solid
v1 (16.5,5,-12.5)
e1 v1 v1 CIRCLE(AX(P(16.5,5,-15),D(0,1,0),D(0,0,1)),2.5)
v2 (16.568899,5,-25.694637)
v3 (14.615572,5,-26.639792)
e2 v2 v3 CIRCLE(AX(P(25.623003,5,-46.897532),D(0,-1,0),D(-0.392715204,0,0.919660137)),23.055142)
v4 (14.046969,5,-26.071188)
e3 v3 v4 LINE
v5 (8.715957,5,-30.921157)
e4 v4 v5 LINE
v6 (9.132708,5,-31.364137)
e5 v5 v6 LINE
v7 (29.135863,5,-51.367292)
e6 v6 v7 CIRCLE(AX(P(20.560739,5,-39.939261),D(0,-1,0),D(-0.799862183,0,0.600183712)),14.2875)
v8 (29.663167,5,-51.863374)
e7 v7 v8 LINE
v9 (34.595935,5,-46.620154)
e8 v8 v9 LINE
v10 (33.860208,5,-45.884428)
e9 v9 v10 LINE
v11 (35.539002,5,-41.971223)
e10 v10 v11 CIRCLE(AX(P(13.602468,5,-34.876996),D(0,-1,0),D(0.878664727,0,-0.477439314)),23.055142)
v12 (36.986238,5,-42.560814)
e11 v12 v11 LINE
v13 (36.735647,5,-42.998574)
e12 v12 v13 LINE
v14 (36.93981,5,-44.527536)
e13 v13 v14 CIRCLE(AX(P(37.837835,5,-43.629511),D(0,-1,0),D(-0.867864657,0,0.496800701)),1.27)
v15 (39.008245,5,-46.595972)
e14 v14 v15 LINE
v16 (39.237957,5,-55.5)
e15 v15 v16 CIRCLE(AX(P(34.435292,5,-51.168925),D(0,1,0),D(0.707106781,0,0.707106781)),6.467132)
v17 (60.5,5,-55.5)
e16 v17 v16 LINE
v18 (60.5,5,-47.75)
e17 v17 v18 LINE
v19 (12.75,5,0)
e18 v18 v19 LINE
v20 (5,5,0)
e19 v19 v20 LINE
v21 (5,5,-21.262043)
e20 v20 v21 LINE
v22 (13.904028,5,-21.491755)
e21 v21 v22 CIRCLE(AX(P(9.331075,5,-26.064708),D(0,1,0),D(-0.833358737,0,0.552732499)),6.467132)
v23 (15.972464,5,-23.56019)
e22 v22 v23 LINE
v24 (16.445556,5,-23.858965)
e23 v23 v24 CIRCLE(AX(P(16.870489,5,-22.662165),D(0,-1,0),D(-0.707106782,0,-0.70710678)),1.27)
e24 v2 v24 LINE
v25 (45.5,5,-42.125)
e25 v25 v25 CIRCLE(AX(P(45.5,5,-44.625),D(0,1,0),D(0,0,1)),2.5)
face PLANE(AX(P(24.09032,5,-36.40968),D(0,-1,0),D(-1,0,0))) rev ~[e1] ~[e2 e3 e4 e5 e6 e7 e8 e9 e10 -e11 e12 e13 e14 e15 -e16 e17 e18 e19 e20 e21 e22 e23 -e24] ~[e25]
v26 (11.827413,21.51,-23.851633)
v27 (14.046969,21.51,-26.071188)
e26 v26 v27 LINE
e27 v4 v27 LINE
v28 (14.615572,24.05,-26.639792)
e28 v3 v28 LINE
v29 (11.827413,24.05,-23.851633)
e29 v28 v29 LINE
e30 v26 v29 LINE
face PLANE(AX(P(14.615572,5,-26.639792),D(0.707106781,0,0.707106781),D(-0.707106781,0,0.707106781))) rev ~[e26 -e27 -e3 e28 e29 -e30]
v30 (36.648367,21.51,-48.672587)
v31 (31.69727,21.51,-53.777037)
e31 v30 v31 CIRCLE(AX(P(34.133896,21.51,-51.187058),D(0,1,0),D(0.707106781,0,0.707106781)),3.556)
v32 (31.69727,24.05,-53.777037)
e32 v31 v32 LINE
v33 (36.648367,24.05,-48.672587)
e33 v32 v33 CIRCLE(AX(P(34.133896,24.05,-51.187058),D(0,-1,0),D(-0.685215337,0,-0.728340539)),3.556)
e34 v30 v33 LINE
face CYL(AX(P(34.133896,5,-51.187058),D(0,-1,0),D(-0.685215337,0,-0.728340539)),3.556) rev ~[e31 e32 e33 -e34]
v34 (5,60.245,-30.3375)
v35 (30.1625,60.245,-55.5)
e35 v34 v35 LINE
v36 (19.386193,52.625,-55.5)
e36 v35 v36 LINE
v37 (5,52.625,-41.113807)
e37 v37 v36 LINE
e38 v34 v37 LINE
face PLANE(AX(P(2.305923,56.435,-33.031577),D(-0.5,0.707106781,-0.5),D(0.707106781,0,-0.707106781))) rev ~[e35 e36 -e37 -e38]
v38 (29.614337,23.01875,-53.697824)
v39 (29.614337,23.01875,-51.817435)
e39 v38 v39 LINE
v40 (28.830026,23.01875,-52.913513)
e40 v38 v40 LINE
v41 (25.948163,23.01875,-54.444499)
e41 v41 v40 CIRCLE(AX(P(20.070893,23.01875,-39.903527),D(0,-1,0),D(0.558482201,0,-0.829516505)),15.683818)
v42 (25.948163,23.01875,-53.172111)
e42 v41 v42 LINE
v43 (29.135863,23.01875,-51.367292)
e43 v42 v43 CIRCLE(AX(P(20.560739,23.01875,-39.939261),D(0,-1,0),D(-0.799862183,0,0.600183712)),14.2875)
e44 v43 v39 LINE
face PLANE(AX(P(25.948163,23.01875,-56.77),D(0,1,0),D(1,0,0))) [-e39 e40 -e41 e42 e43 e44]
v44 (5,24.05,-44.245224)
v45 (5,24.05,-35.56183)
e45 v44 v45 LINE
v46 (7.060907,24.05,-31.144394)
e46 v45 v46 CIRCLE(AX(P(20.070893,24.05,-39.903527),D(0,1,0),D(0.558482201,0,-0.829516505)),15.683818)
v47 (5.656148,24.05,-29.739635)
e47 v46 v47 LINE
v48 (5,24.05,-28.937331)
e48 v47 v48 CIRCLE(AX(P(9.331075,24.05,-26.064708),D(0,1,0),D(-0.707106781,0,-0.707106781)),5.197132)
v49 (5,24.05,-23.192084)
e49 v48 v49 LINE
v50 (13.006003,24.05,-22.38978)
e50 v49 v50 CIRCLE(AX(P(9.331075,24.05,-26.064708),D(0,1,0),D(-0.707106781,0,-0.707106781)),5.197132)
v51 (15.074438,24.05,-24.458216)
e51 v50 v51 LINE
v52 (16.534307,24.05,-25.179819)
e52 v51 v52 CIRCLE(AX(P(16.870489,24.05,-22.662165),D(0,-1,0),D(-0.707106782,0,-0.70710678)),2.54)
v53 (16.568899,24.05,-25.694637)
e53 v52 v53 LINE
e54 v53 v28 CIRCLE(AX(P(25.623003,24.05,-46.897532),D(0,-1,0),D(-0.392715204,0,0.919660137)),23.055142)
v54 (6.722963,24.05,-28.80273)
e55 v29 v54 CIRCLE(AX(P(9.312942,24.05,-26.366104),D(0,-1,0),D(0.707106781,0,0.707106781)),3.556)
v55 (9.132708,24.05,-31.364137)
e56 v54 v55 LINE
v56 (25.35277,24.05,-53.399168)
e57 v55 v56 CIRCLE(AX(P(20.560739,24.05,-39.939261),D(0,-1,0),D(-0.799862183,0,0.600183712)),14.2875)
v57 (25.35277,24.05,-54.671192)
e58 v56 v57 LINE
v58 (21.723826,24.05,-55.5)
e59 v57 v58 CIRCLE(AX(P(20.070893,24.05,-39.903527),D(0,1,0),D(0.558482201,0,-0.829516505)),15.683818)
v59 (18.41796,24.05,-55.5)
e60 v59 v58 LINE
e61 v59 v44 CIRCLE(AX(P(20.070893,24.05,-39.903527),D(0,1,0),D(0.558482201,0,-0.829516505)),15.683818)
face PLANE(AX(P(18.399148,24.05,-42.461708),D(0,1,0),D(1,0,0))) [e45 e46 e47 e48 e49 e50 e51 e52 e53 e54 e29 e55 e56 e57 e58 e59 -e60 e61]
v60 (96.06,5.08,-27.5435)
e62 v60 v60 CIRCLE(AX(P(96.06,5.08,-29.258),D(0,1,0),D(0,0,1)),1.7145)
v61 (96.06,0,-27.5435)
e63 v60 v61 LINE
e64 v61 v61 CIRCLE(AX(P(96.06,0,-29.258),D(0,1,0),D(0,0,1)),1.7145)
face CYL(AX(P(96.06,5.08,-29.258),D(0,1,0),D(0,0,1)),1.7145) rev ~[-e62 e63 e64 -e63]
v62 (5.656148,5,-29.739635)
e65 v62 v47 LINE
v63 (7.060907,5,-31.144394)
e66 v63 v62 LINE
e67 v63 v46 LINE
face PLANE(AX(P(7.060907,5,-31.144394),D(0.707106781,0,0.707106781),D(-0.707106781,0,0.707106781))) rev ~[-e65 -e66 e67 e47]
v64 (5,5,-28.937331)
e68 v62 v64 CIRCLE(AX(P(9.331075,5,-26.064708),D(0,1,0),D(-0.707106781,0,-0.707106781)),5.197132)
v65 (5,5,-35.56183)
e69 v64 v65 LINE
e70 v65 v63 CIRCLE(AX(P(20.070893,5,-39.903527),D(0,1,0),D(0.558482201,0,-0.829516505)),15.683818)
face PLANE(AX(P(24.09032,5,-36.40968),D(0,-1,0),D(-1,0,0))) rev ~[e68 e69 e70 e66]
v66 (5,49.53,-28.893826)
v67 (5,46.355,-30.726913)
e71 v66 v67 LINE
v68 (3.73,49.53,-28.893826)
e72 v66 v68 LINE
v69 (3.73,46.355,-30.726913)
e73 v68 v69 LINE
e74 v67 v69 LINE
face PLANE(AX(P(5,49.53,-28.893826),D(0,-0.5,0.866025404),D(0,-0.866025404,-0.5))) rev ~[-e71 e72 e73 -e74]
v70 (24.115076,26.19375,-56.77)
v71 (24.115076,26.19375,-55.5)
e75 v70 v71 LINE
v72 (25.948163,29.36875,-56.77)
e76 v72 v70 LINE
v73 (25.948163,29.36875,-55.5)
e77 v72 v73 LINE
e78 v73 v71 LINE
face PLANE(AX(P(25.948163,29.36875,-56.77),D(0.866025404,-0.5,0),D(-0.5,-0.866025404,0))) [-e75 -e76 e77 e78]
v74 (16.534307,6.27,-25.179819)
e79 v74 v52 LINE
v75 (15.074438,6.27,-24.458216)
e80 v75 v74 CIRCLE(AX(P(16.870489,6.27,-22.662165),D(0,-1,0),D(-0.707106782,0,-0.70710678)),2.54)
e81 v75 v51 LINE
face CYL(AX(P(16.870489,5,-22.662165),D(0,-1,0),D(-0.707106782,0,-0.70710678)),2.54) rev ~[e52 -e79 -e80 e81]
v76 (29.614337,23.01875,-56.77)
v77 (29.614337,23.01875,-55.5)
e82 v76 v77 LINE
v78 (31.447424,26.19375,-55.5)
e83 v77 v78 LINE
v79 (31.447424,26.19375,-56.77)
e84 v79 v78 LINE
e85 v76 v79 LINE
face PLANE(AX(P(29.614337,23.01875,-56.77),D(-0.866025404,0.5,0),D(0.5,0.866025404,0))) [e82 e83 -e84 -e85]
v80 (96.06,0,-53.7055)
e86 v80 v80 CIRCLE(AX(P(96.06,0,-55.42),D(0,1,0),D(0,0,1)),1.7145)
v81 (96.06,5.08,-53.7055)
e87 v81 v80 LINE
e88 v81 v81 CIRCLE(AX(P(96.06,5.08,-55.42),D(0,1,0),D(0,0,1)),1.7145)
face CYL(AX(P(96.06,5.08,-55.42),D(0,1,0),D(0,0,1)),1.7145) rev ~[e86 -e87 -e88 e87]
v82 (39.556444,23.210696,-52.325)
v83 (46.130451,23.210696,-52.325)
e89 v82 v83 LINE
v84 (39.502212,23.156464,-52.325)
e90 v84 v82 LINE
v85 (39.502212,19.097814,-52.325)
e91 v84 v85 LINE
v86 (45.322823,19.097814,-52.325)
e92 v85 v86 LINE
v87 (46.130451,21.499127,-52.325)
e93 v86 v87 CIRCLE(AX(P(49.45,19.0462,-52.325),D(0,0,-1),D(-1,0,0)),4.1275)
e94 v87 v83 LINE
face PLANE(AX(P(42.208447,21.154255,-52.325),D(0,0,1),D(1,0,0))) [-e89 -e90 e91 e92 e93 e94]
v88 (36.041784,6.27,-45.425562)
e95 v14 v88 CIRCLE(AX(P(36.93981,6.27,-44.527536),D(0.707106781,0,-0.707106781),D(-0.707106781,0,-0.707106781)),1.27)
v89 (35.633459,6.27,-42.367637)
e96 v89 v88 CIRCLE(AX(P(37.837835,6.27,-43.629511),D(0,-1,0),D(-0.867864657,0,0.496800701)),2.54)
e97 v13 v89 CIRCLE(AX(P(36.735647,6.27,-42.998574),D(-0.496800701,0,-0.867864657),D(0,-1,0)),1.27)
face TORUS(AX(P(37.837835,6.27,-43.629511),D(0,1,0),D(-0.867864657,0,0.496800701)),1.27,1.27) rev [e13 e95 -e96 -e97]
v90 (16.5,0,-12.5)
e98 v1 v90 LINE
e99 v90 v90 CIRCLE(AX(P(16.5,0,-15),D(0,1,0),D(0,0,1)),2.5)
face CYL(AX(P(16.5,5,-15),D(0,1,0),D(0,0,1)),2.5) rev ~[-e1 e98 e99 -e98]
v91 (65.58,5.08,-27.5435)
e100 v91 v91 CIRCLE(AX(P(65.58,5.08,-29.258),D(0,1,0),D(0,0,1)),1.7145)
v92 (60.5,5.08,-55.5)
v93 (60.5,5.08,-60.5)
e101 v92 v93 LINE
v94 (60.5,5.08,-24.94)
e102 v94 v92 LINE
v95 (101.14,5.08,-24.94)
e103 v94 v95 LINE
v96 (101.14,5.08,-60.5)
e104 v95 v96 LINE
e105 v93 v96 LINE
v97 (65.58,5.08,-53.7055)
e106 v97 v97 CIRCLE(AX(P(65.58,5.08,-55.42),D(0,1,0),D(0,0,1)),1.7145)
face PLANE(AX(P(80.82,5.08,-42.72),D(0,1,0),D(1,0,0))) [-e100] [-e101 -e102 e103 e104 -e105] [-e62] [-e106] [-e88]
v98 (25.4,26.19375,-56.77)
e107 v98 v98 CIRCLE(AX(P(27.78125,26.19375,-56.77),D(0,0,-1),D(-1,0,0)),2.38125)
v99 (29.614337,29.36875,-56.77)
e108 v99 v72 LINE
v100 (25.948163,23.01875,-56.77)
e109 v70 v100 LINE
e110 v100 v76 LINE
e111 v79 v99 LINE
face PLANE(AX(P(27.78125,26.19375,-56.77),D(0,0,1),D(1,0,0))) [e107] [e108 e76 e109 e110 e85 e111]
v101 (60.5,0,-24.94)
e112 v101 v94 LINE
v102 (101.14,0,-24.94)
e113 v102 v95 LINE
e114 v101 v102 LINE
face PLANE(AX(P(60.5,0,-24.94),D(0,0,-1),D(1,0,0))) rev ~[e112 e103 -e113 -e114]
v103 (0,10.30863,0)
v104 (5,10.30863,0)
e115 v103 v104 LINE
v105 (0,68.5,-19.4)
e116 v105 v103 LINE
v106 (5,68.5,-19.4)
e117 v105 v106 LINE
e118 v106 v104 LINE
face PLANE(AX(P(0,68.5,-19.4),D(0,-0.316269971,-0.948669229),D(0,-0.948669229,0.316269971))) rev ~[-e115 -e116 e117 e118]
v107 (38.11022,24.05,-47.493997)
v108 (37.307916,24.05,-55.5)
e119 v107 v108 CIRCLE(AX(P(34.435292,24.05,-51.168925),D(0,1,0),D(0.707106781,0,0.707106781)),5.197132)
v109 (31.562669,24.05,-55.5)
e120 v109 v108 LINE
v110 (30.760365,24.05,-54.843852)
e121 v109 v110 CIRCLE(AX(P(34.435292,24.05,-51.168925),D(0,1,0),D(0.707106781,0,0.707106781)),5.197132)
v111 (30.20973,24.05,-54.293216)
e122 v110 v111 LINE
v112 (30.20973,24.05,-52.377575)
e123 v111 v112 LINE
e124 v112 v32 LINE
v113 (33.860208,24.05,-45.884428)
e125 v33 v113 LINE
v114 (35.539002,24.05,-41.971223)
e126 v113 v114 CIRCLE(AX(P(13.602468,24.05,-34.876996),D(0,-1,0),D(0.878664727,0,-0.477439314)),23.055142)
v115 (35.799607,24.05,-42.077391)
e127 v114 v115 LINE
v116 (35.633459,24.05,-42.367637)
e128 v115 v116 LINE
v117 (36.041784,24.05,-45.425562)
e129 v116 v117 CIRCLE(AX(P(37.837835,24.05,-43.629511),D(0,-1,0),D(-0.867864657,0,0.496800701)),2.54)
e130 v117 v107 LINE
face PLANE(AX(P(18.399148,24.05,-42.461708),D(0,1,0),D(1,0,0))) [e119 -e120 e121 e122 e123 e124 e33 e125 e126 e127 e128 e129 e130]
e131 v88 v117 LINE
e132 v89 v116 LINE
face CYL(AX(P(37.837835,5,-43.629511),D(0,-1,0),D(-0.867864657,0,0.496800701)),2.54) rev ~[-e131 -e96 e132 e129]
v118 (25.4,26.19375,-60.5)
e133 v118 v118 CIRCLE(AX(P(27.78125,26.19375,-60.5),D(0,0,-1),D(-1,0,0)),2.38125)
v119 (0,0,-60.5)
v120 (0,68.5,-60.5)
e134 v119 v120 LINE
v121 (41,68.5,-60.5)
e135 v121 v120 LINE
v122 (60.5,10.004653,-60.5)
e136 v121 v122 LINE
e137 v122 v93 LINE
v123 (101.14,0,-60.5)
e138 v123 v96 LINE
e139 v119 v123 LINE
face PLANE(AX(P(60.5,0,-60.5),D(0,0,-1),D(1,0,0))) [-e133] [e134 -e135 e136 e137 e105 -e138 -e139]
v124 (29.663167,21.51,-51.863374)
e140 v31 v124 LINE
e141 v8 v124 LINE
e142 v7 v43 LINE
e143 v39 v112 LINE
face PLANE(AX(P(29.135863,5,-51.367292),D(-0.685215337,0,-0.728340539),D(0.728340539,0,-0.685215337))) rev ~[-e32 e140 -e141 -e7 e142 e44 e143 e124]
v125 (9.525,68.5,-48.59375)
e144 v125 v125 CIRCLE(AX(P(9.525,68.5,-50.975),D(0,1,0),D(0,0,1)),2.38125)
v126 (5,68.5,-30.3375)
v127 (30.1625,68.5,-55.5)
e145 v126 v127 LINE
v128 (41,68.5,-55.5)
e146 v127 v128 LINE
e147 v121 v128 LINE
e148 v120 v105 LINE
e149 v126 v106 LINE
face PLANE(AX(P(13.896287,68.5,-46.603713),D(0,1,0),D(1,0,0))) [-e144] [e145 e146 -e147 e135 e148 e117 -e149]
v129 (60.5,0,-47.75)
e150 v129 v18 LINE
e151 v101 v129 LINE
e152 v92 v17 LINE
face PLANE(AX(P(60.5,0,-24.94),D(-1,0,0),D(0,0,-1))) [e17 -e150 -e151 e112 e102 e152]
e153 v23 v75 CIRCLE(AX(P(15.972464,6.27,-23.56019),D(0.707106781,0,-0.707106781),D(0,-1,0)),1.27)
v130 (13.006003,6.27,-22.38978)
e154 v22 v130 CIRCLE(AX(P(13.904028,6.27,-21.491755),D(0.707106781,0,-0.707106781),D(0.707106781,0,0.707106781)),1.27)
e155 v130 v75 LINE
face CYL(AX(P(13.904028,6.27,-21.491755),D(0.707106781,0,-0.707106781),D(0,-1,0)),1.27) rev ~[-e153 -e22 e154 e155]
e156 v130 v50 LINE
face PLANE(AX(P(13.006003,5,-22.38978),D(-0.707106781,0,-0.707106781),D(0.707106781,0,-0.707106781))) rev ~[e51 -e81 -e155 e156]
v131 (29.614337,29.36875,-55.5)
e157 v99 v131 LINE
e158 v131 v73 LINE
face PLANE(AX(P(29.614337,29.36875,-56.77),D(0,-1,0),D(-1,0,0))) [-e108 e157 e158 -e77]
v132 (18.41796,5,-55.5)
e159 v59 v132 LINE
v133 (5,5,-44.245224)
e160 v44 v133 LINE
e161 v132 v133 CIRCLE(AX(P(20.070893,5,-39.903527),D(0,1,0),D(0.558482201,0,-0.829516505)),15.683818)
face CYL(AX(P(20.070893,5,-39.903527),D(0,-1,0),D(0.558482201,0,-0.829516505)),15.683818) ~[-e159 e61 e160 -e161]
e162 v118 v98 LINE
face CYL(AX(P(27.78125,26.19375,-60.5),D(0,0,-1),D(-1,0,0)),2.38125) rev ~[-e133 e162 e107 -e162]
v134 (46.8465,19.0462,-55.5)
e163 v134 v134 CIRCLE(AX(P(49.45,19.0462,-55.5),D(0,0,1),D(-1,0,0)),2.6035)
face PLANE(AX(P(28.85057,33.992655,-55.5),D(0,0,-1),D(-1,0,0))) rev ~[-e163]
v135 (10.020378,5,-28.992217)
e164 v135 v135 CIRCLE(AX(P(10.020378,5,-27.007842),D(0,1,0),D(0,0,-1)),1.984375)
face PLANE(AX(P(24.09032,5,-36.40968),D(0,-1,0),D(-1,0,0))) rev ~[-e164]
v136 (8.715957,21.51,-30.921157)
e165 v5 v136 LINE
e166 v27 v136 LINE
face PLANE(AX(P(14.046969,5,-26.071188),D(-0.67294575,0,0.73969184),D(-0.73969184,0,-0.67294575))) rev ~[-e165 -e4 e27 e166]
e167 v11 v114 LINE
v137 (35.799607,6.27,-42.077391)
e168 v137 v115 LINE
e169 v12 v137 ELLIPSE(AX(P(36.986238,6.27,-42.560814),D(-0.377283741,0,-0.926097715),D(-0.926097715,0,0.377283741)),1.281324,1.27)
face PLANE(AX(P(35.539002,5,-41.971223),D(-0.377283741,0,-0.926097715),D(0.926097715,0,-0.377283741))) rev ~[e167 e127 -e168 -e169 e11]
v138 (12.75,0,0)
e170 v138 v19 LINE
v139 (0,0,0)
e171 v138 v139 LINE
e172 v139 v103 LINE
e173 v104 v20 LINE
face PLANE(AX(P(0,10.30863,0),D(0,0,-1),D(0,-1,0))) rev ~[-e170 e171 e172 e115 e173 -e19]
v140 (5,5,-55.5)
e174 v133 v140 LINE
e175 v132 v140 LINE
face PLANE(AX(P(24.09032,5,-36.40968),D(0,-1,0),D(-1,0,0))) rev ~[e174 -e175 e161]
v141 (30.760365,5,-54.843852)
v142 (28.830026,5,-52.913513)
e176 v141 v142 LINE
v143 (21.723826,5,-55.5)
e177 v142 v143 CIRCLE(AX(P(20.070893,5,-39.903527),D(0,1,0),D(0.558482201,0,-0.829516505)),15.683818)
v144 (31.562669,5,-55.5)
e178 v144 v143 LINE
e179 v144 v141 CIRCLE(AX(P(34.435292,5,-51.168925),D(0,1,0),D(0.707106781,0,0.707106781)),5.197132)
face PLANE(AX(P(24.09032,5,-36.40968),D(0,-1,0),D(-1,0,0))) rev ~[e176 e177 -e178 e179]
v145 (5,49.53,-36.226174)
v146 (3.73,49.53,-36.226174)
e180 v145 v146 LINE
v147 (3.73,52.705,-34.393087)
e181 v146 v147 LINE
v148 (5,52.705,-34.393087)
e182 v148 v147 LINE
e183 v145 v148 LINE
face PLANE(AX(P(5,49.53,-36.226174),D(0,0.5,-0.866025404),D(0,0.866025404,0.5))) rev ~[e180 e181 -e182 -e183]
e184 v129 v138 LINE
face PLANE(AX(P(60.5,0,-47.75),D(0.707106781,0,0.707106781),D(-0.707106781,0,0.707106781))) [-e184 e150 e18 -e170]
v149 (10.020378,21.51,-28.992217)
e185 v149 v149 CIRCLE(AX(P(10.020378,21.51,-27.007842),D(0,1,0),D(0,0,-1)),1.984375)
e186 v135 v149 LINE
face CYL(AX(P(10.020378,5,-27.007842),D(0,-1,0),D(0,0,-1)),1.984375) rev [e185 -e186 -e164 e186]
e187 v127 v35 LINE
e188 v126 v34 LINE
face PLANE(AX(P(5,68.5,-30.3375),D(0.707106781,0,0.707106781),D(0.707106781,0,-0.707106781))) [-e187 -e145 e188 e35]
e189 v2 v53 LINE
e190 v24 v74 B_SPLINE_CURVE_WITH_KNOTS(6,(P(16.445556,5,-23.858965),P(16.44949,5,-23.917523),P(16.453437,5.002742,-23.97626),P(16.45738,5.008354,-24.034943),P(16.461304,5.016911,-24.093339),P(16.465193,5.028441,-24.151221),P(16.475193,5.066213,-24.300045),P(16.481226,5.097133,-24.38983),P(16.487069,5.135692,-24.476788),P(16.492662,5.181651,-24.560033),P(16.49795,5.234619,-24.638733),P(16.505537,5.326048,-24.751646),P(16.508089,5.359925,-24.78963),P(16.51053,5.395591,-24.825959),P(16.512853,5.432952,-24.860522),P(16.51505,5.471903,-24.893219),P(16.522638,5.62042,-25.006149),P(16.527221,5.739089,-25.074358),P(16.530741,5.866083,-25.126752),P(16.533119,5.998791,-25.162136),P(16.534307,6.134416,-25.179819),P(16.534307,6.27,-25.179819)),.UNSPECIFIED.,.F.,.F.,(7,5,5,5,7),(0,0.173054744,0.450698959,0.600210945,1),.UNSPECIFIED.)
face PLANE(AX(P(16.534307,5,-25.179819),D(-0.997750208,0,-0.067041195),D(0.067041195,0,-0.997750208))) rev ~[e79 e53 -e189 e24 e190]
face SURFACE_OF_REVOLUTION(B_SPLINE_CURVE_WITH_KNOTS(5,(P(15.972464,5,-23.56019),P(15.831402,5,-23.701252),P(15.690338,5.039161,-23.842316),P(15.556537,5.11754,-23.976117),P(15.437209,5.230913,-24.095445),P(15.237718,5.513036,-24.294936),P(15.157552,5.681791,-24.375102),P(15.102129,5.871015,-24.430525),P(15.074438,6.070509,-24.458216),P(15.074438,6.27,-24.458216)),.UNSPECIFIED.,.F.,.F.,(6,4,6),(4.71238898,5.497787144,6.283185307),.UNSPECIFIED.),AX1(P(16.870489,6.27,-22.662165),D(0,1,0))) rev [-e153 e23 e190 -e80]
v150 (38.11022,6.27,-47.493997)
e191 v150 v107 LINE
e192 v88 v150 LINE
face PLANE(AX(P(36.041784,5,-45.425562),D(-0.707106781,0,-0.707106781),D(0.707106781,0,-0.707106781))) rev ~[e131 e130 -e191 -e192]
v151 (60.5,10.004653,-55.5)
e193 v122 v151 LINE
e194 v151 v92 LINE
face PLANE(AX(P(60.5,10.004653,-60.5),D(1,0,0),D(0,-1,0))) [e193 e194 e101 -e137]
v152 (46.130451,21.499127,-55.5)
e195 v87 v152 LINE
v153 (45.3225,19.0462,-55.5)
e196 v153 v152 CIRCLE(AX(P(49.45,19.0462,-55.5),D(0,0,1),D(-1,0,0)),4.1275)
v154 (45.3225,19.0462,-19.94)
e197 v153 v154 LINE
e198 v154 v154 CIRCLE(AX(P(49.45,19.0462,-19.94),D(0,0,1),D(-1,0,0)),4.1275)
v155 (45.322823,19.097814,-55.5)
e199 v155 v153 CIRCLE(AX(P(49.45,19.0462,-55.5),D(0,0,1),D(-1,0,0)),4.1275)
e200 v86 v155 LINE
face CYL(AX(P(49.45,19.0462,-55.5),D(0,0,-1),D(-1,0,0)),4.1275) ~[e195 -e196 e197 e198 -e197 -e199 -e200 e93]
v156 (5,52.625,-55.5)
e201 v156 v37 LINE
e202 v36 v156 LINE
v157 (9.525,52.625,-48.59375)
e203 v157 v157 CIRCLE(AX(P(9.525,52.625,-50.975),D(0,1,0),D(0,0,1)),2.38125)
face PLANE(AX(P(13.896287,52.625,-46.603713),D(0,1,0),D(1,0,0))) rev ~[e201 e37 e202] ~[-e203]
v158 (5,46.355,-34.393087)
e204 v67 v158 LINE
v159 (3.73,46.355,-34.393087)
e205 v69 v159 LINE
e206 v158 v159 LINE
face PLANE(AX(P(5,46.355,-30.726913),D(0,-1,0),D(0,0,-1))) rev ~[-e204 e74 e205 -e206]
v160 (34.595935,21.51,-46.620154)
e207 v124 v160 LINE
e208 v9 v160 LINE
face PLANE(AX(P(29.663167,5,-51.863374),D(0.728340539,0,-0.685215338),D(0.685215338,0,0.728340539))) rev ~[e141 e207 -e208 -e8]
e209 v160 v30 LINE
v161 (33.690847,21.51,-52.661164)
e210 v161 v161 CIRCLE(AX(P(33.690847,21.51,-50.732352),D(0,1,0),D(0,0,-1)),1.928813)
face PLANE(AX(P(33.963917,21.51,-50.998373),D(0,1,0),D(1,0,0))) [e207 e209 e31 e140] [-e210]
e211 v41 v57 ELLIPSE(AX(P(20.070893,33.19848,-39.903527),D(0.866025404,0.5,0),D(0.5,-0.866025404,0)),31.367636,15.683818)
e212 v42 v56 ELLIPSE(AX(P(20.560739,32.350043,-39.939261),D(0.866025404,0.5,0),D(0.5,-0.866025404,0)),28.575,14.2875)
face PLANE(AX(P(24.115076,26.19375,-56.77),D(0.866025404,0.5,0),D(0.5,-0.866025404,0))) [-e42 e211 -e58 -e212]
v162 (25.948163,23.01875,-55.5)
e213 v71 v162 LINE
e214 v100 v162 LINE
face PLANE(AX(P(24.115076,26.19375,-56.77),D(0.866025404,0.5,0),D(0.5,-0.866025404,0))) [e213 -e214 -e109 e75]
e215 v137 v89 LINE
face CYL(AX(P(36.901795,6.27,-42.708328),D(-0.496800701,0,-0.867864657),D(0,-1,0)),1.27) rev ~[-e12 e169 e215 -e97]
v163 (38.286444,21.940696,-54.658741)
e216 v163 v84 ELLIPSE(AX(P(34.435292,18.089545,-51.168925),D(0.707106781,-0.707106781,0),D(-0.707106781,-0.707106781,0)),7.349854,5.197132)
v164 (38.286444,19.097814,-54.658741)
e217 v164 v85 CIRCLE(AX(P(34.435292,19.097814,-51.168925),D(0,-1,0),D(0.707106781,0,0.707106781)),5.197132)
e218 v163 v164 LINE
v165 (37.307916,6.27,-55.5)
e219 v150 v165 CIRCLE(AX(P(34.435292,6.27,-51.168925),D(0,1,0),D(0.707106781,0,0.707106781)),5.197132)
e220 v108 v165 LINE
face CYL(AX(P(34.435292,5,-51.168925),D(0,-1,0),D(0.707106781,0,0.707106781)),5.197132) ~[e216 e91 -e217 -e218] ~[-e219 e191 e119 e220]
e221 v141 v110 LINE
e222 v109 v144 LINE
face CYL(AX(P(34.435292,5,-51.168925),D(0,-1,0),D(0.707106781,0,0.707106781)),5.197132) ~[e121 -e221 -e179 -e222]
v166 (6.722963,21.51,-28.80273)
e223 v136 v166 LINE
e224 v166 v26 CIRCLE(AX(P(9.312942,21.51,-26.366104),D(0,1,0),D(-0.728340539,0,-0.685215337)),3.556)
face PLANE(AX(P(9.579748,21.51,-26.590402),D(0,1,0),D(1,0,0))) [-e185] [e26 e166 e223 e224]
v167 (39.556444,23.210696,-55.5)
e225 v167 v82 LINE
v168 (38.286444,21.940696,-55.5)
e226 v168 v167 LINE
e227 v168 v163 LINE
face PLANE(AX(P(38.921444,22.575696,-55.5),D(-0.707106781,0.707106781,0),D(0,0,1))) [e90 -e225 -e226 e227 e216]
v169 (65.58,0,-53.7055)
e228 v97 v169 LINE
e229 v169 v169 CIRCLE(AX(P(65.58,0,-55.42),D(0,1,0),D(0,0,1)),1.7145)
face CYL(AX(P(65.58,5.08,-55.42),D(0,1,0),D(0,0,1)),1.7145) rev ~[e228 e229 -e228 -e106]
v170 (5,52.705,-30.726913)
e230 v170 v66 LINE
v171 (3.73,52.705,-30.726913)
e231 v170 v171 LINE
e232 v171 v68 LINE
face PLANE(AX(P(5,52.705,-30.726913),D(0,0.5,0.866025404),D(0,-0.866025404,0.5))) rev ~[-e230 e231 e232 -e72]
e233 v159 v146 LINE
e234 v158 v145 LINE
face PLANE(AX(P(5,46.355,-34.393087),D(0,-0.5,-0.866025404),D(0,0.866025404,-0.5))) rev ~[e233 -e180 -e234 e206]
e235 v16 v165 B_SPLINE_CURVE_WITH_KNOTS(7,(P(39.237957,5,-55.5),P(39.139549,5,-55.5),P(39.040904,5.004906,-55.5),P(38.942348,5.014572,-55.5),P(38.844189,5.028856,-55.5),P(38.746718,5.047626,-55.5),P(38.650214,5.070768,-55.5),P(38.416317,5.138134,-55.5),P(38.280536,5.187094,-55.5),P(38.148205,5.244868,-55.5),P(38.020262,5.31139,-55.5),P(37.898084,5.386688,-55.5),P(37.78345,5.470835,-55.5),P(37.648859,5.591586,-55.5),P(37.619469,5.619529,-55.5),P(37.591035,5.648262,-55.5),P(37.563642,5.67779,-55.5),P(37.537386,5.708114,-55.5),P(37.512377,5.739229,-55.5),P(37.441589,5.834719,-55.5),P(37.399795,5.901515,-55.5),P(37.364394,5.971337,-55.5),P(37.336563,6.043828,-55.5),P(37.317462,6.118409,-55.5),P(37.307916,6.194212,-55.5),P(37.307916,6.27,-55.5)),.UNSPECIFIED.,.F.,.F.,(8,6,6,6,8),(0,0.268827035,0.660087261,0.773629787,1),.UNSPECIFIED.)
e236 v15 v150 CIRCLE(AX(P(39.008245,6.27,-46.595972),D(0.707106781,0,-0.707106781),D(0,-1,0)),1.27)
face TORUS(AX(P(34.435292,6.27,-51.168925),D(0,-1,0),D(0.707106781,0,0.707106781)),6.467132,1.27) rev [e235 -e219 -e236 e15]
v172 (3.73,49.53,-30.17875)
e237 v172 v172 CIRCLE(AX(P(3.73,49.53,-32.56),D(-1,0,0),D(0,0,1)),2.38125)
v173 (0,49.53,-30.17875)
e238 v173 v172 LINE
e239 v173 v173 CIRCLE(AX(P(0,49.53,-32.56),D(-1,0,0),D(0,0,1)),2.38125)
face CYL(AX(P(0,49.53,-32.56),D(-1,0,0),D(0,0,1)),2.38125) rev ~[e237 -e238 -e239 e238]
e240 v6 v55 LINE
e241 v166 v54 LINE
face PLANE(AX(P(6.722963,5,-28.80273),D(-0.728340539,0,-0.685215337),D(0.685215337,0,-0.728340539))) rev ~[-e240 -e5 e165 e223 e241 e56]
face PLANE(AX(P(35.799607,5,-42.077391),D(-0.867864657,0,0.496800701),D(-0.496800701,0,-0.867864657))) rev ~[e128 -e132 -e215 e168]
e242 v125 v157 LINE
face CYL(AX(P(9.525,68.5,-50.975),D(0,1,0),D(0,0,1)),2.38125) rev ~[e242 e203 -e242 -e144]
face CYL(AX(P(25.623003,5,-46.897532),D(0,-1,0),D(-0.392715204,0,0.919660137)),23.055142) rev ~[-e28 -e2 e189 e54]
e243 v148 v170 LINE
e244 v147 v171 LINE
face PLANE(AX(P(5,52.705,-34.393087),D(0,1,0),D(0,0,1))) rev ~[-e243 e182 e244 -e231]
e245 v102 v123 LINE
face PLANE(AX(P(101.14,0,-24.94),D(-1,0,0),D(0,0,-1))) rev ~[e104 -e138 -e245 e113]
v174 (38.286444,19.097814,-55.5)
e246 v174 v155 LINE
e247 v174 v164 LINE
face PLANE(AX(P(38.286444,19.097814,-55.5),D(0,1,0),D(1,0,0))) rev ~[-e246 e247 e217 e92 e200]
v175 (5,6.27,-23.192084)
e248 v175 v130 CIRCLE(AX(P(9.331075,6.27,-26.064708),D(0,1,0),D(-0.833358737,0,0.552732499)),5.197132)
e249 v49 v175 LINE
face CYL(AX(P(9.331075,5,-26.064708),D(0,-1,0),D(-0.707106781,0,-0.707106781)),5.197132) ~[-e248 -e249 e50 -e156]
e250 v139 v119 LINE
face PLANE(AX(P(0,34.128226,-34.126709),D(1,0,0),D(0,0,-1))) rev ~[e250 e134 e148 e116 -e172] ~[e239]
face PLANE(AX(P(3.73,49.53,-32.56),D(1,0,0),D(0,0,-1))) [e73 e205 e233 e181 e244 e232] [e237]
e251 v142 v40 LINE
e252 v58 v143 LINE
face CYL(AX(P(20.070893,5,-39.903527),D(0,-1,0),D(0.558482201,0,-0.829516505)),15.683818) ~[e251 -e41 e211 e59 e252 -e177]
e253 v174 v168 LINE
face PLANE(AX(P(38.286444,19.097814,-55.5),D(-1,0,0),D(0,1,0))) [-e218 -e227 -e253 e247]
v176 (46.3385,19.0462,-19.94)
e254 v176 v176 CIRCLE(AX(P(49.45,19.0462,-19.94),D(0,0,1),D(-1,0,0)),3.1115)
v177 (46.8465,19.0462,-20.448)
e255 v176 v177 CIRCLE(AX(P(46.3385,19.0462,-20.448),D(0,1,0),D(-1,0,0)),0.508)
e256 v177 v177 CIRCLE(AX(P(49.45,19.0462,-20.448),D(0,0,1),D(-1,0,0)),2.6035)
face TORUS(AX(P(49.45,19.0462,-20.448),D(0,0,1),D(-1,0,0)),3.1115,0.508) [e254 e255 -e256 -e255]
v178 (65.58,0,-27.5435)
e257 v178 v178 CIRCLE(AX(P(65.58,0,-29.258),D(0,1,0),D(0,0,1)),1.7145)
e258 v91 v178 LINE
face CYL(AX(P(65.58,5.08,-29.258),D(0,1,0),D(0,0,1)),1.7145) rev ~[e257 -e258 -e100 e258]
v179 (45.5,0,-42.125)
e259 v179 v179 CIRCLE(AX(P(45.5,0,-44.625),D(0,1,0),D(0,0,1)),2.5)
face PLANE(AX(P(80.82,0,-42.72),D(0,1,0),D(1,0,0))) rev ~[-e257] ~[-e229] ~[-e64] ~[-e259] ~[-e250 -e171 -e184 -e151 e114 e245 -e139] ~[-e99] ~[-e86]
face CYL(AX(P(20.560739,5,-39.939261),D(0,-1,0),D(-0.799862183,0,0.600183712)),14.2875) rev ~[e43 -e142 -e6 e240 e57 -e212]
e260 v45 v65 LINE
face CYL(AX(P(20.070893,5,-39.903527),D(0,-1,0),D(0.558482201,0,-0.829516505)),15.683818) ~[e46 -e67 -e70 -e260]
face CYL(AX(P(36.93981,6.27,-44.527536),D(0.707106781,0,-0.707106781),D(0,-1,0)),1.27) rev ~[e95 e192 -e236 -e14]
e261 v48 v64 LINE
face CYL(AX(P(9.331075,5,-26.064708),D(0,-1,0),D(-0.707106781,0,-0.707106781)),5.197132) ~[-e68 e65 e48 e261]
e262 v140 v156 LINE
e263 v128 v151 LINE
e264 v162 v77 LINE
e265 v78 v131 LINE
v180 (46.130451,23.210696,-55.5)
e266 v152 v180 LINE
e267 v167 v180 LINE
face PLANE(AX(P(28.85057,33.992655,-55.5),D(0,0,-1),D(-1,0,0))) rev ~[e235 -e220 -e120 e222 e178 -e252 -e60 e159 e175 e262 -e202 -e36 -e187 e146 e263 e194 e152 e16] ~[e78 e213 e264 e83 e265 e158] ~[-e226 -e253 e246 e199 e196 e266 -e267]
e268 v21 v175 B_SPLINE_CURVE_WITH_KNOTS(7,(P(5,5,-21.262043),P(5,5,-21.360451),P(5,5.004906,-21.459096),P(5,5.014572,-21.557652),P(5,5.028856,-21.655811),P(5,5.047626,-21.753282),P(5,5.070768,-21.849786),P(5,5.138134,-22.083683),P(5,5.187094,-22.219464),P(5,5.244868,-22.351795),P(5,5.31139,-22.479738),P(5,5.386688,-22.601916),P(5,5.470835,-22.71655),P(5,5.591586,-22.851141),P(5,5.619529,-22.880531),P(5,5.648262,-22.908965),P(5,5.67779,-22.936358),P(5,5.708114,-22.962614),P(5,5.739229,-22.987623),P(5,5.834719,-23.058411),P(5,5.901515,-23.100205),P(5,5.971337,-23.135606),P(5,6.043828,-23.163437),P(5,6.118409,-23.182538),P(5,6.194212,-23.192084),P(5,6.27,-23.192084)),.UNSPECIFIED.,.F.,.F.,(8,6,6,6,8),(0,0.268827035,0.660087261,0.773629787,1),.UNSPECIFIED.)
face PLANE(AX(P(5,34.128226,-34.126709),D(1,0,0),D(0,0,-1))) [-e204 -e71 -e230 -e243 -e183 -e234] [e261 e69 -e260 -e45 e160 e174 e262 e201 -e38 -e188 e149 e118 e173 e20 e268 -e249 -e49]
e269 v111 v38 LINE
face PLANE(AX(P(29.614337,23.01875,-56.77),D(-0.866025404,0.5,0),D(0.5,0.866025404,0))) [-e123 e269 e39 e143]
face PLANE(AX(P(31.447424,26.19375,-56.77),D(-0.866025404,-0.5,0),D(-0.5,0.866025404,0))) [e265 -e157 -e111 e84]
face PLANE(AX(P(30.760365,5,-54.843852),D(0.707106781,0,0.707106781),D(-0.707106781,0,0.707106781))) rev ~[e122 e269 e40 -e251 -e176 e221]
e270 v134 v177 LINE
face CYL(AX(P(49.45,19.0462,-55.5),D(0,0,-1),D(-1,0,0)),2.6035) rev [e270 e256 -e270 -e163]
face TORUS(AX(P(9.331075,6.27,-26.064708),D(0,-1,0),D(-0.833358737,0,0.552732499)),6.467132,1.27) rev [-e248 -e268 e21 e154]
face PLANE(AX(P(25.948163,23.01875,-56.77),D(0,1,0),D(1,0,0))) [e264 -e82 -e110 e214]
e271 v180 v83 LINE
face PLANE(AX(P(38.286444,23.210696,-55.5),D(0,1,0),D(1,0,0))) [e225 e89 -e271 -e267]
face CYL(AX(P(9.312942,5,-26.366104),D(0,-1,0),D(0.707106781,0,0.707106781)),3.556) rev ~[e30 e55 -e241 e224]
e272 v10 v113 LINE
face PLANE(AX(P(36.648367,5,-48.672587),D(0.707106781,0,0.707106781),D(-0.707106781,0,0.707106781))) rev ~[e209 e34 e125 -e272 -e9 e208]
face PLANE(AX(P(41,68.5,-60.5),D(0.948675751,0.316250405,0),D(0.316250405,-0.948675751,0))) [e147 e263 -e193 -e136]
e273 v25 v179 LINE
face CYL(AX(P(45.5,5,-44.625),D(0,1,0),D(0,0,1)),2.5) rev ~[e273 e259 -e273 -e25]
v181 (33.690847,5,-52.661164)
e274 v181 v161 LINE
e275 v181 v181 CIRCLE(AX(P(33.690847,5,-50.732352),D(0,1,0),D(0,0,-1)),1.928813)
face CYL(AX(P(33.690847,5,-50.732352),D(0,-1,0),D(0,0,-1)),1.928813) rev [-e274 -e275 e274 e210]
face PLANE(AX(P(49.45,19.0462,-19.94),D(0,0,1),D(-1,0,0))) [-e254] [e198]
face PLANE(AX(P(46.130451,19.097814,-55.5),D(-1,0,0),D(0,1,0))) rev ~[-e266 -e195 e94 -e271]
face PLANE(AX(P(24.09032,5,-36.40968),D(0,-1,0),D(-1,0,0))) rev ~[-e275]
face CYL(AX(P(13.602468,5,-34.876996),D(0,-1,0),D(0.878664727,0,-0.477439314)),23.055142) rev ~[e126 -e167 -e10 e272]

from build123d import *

# Parameters (mm, degrees)
BOSS_EXTRUDE1_DEPTH     = 5
BOSS_EXTRUDE2_DEPTH     = 5
BOSS_EXTRUDE3_DEPTH     = 5
SKETCH6_R               = 2.5
CUT_EXTRUDE1_DEPTH      = 107.549284371
SKETCH9_R               = 4.1275
SKETCH9_R_2             = 2.6035
BOSS_EXTRUDE5_DEPTH     = 35.56
FILLET1_R               = 0.508
BOSS_EXTRUDE6_DEPTH     = 19.05
SKETCH15_R              = 2.38125
BOSS_EXTRUDE7_DEPTH     = 15.875
CHAMFER2_SIZE           = 7.62
FILLET2_R               = 1.27
SKETCH16_W              = 7.844007501
SKETCH16_H              = 4.112882263
BOSS_EXTRUDE8_DEPTH     = 3.175
CHAMFER3_SIZE           = 1.27
SKETCH17_R              = 1.984375
SKETCH17_R_2            = 1.9288125
BOSS_EXTRUDE9_DEPTH     = 16.51
CUT_EXTRUDE2_REACH      = 111.603
SKETCH18_R              = 2.38125
CUT_EXTRUDE3_REACH      = 111.603
SKETCH19_R              = 2.38125
CUT_EXTRUDE4_DEPTH      = 4.13271
CUT_EXTRUDE4_DEPTH_BACK = 1.27
CUT_EXTRUDE5_DEPTH      = 1.27
SKETCH23_W              = 40.64
SKETCH23_H              = 35.56
BOSS_EXTRUDE12_DEPTH    = 5.08
CUT_EXTRUDE6_REACH      = 135.834
SKETCH24_R              = 1.7145


with BuildPart() as part:
    # Sketch1 → Boss-Extrude1 (new body)
    with BuildSketch(Plane(origin=(0, 0, 0), x_dir=(1, 0, 0), z_dir=(0, 1, 0))):
        Polygon((0, 0), (0, 60.5), (60.5, 60.5), (60.5, 47.75), (12.75, 0), align=None)
    extrude(amount=BOSS_EXTRUDE1_DEPTH)

    # Sketch4 → Boss-Extrude2 (add)
    with BuildSketch(Plane.ZY):
        Polygon((-60.5, 5), (-60.5, 68.5), (-19.4, 68.5), (0, 10.308629506), (0, 5), align=None)
    extrude(amount=-BOSS_EXTRUDE2_DEPTH)

    # Sketch5 → Boss-Extrude3 (add)
    with BuildSketch(Plane(origin=(0, 0, -60.5), x_dir=(-1, 0, 0), z_dir=(0, 0, -1))):
        Polygon((-5, 5), (-5, 68.5), (-41, 68.5), (-60.5, 10.004653177), (-60.5, 5), align=None)
    extrude(amount=-BOSS_EXTRUDE3_DEPTH)

    # Sketch6 → Cut-Extrude1 (cut, through all)
    with BuildSketch(Plane(origin=(0, 5, 0), x_dir=(1, 0, 0), z_dir=(0, 1, 0))):
        with Locations(Location((16.5, 15, 0), (0, 0, 270))):
            Circle(SKETCH6_R)
        with Locations(Location((45.5, 44.625, 0), (0, 0, 270))):
            Circle(SKETCH6_R)
    extrude(amount=-CUT_EXTRUDE1_DEPTH, mode=Mode.SUBTRACT)

    # Sketch9 → Boss-Extrude5 (add)
    with BuildSketch(Plane.XY.offset(-55.5)):
        with Locations(Location((49.45, 19.0462, 0), (0, 0, 180))):
            Circle(SKETCH9_R)
        with Locations(Location((49.45, 19.0462, 0), (0, 0, 180))):
            Circle(SKETCH9_R_2, mode=Mode.SUBTRACT)
    extrude(amount=BOSS_EXTRUDE5_DEPTH)

    # Fillet1
    fillet1_edges = [part.edges().sort_by_distance(p)[0] for p in [
        (52.0535, 19.0462, -19.94),
    ]]
    fillet(fillet1_edges, radius=FILLET1_R)

    # Sketch14 → Boss-Extrude6 (add)
    with BuildSketch(Plane(origin=(0, 5, 0), x_dir=(1, 0, 0), z_dir=(0, 1, 0))):
        with BuildLine():
            Line((6.722962691, 28.802730135), (9.132707699, 31.364136576))
            ThreePointArc((9.132707699, 31.364136576), (10.457950503, 50.042049497), (29.135863424, 51.367292301))
            Line((29.135863424, 51.367292301), (31.697269865, 53.777037309))
            ThreePointArc((31.697269865, 53.777037309), (36.686417723, 53.662894944), (36.648367319, 48.672586637))
            Line((36.648367319, 48.672586637), (33.860208422, 45.884427741))
            ThreePointArc((33.860208422, 45.884427741), (34.790141211, 43.96666613), (35.539002262, 41.971223395))
            Line((35.539002262, 41.971223395), (35.799607225, 42.077391474))
            Line((35.799607225, 42.077391474), (35.633459083, 42.367636838))
            ThreePointArc((35.633459083, 42.367636838), (35.320181387, 43.965693178), (36.041784088, 45.425561844))
            Line((36.041784088, 45.425561844), (38.110219678, 47.493997435))
            ThreePointArc((38.110219678, 47.493997435), (38.110219678, 54.843851927), (30.760365187, 54.843851927))
            Line((30.760365187, 54.843851927), (28.830026438, 52.913513178))
            ThreePointArc((28.830026438, 52.913513178), (8.980759009, 50.993661336), (7.060907167, 31.144393908))
            Line((7.060907167, 31.144393908), (5.656148073, 29.739634813))
            ThreePointArc((5.656148073, 29.739634813), (5.656148073, 22.389780322), (13.006002565, 22.389780322))
            Line((13.006002565, 22.389780322), (15.074438156, 24.458215912))
            ThreePointArc((15.074438156, 24.458215912), (15.744974902, 24.939184047), (16.534306822, 25.179818613))
            Line((16.534306822, 25.179818613), (16.568898656, 25.694636548))
            ThreePointArc((16.568898656, 25.694636548), (15.581109404, 26.144220149), (14.615572259, 26.639791578))
            Line((14.615572259, 26.639791578), (11.827413363, 23.851632681))
            ThreePointArc((11.827413363, 23.851632681), (6.837105056, 23.813582277), (6.722962691, 28.802730135))
        make_face()
    extrude(amount=BOSS_EXTRUDE6_DEPTH)

    # Sketch15 → Boss-Extrude7 (add)
    with BuildSketch(Plane(origin=(0, 68.5, 0), x_dir=(1, 0, 0), z_dir=(0, 1, 0))):
        Polygon((5, 55.5), (5, 30.3375), (30.1625, 55.5), align=None)
        with Locations(Location((9.525, 50.975, 0), (0, 0, 270))):
            Circle(SKETCH15_R, mode=Mode.SUBTRACT)
    extrude(amount=-BOSS_EXTRUDE7_DEPTH)

    # Chamfer2
    chamfer2_edges = [part.edges().sort_by_distance(p)[0] for p in [
        (17.58125, 52.625, -42.91875),
    ]]
    chamfer(chamfer2_edges, length=CHAMFER2_SIZE)

    # Fillet2
    fillet2_edges = [part.edges().sort_by_distance(p)[0] for p in [
        (15.744974902, 5, -24.939184047),
        (14.04022036, 5, -23.423998117),
        (8.812852099, 5, -20.893477035),
        (35.320181387, 5, -43.965693178),
        (35.716533154, 5, -42.222514156),
        (37.076001883, 5, -46.45977964),
        (39.606522965, 5, -51.687147901),
    ]]
    fillet(fillet2_edges, radius=FILLET2_R)

    # Sketch16 → Boss-Extrude8 (add)
    with BuildSketch(Plane.XY.offset(-55.5)):
        with Locations((42.208447341, 21.154254949)):
            Rectangle(SKETCH16_W, SKETCH16_H)
    extrude(amount=BOSS_EXTRUDE8_DEPTH)

    # Chamfer3
    chamfer3_edges = [part.edges().sort_by_distance(p)[0] for p in [
        (38.28644359, 23.21069608, -55.07937031),
    ]]
    chamfer(chamfer3_edges, length=CHAMFER3_SIZE)

    # Sketch17 → Boss-Extrude9 (add)
    # profile 1 of 2: a face of its own
    with BuildSketch(Plane(origin=(0, 5, 0), x_dir=(1, 0, 0), z_dir=(0, 1, 0))):
        with BuildLine():
            Line((14.046968971, 26.071188289), (8.715956726, 30.921156666))
            Line((8.715956726, 30.921156666), (6.722962691, 28.802730135))
            ThreePointArc((6.722962691, 28.802730135), (6.837105056, 23.813582277), (11.827413363, 23.851632681))
            Line((11.827413363, 23.851632681), (14.046968971, 26.071188289))
        make_face()
        with Locations(Location((10.020377911, 27.007841876, 0), (0, 0, 90))):
            Circle(SKETCH17_R, mode=Mode.SUBTRACT)
    # profile 2 of 2: a face of its own
    with BuildSketch(Plane(origin=(0, 5, 0), x_dir=(1, 0, 0), z_dir=(0, 1, 0))):
        with BuildLine():
            Line((31.697269865, 53.777037309), (29.66316707, 51.863374183))
            Line((29.66316707, 51.863374183), (34.595934869, 46.620154187))
            Line((34.595934869, 46.620154187), (36.648367319, 48.672586637))
            ThreePointArc((36.648367319, 48.672586637), (36.686417723, 53.662894944), (31.697269865, 53.777037309))
        make_face()
        with Locations(Location((33.690847255, 50.732351927, 0), (0, 0, 90))):
            Circle(SKETCH17_R_2, mode=Mode.SUBTRACT)
    extrude(amount=BOSS_EXTRUDE9_DEPTH)

    # Sketch18 → Cut-Extrude2 (cut, up to next)
    with BuildSketch(Plane.ZY, mode=Mode.PRIVATE) as cut_extrude2_sk1:
        with Locations((-32.56, 49.53)):
            Circle(SKETCH18_R)
    cut_extrude2_tool1 = extrude(cut_extrude2_sk1.sketch, amount=-CUT_EXTRUDE2_REACH, mode=Mode.PRIVATE) & part.part
    add(cut_extrude2_tool1.solids().sort_by_distance((0, 49.53, -32.56))[0], mode=Mode.SUBTRACT)

    # Sketch19 → Cut-Extrude3 (cut, up to next)
    with BuildSketch(Plane(origin=(0, 0, -60.5), x_dir=(-1, 0, 0), z_dir=(0, 0, -1)), mode=Mode.PRIVATE) as cut_extrude3_sk1:
        with Locations((-27.78125, 26.19375)):
            Circle(SKETCH19_R)
    cut_extrude3_tool1 = extrude(cut_extrude3_sk1.sketch, amount=-CUT_EXTRUDE3_REACH, mode=Mode.PRIVATE) & part.part
    add(cut_extrude3_tool1.solids().sort_by_distance((27.78125, 26.19375, -60.5))[0], mode=Mode.SUBTRACT)

    # Sketch20 → Cut-Extrude4 (cut, two sides: drawn at the far end of the back side and taken through both)
    with BuildSketch(Plane.XY.offset(-55.5).offset(-CUT_EXTRUDE4_DEPTH_BACK)):
        Polygon((31.447424209, 26.19375), (29.614337105, 29.36875), (25.948162895, 29.36875), (24.115075791, 26.19375), (25.948162895, 23.01875), (29.614337105, 23.01875), align=None)
    extrude(amount=CUT_EXTRUDE4_DEPTH + CUT_EXTRUDE4_DEPTH_BACK, mode=Mode.SUBTRACT)

    # Sketch21 → Cut-Extrude5 (cut)
    with BuildSketch(Plane(origin=(5, 0, 0), x_dir=(0, 0, -1), z_dir=(1, 0, 0))):
        Polygon((34.393087105, 52.705), (30.726912895, 52.705), (28.893825791, 49.53), (30.726912895, 46.355), (34.393087105, 46.355), (36.226174209, 49.53), align=None)
    extrude(amount=-CUT_EXTRUDE5_DEPTH, mode=Mode.SUBTRACT)

    # Sketch23 → Boss-Extrude12 (add)
    with BuildSketch(Plane(origin=(0, 0, 0), x_dir=(1, 0, 0), z_dir=(0, 1, 0))):
        with Locations((80.82, 42.72)):
            Rectangle(SKETCH23_W, SKETCH23_H)
    extrude(amount=BOSS_EXTRUDE12_DEPTH)

    # Sketch24 → Cut-Extrude6 (cut, up to next)
    with BuildSketch(Plane(origin=(0, 5.08, 0), x_dir=(1, 0, 0), z_dir=(0, 1, 0)), mode=Mode.PRIVATE) as cut_extrude6_sk1:
        with Locations(Location((65.58, 55.42, 0), (0, 0, 270))):
            Circle(SKETCH24_R)
    cut_extrude6_tool1 = extrude(cut_extrude6_sk1.sketch, amount=-CUT_EXTRUDE6_REACH, mode=Mode.PRIVATE) & part.part
    # Sketch24 → Cut-Extrude6 (cut, up to next)
    with BuildSketch(Plane(origin=(0, 5.08, 0), x_dir=(1, 0, 0), z_dir=(0, 1, 0)), mode=Mode.PRIVATE) as cut_extrude6_sk2:
        with Locations(Location((96.06, 55.42, 0), (0, 0, 270))):
            Circle(SKETCH24_R)
    cut_extrude6_tool2 = extrude(cut_extrude6_sk2.sketch, amount=-CUT_EXTRUDE6_REACH, mode=Mode.PRIVATE) & part.part
    # Sketch24 → Cut-Extrude6 (cut, up to next)
    with BuildSketch(Plane(origin=(0, 5.08, 0), x_dir=(1, 0, 0), z_dir=(0, 1, 0)), mode=Mode.PRIVATE) as cut_extrude6_sk3:
        with Locations(Location((96.06, 29.258, 0), (0, 0, 270))):
            Circle(SKETCH24_R)
    cut_extrude6_tool3 = extrude(cut_extrude6_sk3.sketch, amount=-CUT_EXTRUDE6_REACH, mode=Mode.PRIVATE) & part.part
    # Sketch24 → Cut-Extrude6 (cut, up to next)
    with BuildSketch(Plane(origin=(0, 5.08, 0), x_dir=(1, 0, 0), z_dir=(0, 1, 0)), mode=Mode.PRIVATE) as cut_extrude6_sk4:
        with Locations(Location((65.58, 29.258, 0), (0, 0, 270))):
            Circle(SKETCH24_R)
    cut_extrude6_tool4 = extrude(cut_extrude6_sk4.sketch, amount=-CUT_EXTRUDE6_REACH, mode=Mode.PRIVATE) & part.part
    add(cut_extrude6_tool1.solids().sort_by_distance((65.58, 5.08, -55.42))[0], mode=Mode.SUBTRACT)
    add(cut_extrude6_tool2.solids().sort_by_distance((96.06, 5.08, -55.42))[0], mode=Mode.SUBTRACT)
    add(cut_extrude6_tool3.solids().sort_by_distance((96.06, 5.08, -29.258))[0], mode=Mode.SUBTRACT)
    add(cut_extrude6_tool4.solids().sort_by_distance((65.58, 5.08, -29.258))[0], mode=Mode.SUBTRACT)


solid = part.part
